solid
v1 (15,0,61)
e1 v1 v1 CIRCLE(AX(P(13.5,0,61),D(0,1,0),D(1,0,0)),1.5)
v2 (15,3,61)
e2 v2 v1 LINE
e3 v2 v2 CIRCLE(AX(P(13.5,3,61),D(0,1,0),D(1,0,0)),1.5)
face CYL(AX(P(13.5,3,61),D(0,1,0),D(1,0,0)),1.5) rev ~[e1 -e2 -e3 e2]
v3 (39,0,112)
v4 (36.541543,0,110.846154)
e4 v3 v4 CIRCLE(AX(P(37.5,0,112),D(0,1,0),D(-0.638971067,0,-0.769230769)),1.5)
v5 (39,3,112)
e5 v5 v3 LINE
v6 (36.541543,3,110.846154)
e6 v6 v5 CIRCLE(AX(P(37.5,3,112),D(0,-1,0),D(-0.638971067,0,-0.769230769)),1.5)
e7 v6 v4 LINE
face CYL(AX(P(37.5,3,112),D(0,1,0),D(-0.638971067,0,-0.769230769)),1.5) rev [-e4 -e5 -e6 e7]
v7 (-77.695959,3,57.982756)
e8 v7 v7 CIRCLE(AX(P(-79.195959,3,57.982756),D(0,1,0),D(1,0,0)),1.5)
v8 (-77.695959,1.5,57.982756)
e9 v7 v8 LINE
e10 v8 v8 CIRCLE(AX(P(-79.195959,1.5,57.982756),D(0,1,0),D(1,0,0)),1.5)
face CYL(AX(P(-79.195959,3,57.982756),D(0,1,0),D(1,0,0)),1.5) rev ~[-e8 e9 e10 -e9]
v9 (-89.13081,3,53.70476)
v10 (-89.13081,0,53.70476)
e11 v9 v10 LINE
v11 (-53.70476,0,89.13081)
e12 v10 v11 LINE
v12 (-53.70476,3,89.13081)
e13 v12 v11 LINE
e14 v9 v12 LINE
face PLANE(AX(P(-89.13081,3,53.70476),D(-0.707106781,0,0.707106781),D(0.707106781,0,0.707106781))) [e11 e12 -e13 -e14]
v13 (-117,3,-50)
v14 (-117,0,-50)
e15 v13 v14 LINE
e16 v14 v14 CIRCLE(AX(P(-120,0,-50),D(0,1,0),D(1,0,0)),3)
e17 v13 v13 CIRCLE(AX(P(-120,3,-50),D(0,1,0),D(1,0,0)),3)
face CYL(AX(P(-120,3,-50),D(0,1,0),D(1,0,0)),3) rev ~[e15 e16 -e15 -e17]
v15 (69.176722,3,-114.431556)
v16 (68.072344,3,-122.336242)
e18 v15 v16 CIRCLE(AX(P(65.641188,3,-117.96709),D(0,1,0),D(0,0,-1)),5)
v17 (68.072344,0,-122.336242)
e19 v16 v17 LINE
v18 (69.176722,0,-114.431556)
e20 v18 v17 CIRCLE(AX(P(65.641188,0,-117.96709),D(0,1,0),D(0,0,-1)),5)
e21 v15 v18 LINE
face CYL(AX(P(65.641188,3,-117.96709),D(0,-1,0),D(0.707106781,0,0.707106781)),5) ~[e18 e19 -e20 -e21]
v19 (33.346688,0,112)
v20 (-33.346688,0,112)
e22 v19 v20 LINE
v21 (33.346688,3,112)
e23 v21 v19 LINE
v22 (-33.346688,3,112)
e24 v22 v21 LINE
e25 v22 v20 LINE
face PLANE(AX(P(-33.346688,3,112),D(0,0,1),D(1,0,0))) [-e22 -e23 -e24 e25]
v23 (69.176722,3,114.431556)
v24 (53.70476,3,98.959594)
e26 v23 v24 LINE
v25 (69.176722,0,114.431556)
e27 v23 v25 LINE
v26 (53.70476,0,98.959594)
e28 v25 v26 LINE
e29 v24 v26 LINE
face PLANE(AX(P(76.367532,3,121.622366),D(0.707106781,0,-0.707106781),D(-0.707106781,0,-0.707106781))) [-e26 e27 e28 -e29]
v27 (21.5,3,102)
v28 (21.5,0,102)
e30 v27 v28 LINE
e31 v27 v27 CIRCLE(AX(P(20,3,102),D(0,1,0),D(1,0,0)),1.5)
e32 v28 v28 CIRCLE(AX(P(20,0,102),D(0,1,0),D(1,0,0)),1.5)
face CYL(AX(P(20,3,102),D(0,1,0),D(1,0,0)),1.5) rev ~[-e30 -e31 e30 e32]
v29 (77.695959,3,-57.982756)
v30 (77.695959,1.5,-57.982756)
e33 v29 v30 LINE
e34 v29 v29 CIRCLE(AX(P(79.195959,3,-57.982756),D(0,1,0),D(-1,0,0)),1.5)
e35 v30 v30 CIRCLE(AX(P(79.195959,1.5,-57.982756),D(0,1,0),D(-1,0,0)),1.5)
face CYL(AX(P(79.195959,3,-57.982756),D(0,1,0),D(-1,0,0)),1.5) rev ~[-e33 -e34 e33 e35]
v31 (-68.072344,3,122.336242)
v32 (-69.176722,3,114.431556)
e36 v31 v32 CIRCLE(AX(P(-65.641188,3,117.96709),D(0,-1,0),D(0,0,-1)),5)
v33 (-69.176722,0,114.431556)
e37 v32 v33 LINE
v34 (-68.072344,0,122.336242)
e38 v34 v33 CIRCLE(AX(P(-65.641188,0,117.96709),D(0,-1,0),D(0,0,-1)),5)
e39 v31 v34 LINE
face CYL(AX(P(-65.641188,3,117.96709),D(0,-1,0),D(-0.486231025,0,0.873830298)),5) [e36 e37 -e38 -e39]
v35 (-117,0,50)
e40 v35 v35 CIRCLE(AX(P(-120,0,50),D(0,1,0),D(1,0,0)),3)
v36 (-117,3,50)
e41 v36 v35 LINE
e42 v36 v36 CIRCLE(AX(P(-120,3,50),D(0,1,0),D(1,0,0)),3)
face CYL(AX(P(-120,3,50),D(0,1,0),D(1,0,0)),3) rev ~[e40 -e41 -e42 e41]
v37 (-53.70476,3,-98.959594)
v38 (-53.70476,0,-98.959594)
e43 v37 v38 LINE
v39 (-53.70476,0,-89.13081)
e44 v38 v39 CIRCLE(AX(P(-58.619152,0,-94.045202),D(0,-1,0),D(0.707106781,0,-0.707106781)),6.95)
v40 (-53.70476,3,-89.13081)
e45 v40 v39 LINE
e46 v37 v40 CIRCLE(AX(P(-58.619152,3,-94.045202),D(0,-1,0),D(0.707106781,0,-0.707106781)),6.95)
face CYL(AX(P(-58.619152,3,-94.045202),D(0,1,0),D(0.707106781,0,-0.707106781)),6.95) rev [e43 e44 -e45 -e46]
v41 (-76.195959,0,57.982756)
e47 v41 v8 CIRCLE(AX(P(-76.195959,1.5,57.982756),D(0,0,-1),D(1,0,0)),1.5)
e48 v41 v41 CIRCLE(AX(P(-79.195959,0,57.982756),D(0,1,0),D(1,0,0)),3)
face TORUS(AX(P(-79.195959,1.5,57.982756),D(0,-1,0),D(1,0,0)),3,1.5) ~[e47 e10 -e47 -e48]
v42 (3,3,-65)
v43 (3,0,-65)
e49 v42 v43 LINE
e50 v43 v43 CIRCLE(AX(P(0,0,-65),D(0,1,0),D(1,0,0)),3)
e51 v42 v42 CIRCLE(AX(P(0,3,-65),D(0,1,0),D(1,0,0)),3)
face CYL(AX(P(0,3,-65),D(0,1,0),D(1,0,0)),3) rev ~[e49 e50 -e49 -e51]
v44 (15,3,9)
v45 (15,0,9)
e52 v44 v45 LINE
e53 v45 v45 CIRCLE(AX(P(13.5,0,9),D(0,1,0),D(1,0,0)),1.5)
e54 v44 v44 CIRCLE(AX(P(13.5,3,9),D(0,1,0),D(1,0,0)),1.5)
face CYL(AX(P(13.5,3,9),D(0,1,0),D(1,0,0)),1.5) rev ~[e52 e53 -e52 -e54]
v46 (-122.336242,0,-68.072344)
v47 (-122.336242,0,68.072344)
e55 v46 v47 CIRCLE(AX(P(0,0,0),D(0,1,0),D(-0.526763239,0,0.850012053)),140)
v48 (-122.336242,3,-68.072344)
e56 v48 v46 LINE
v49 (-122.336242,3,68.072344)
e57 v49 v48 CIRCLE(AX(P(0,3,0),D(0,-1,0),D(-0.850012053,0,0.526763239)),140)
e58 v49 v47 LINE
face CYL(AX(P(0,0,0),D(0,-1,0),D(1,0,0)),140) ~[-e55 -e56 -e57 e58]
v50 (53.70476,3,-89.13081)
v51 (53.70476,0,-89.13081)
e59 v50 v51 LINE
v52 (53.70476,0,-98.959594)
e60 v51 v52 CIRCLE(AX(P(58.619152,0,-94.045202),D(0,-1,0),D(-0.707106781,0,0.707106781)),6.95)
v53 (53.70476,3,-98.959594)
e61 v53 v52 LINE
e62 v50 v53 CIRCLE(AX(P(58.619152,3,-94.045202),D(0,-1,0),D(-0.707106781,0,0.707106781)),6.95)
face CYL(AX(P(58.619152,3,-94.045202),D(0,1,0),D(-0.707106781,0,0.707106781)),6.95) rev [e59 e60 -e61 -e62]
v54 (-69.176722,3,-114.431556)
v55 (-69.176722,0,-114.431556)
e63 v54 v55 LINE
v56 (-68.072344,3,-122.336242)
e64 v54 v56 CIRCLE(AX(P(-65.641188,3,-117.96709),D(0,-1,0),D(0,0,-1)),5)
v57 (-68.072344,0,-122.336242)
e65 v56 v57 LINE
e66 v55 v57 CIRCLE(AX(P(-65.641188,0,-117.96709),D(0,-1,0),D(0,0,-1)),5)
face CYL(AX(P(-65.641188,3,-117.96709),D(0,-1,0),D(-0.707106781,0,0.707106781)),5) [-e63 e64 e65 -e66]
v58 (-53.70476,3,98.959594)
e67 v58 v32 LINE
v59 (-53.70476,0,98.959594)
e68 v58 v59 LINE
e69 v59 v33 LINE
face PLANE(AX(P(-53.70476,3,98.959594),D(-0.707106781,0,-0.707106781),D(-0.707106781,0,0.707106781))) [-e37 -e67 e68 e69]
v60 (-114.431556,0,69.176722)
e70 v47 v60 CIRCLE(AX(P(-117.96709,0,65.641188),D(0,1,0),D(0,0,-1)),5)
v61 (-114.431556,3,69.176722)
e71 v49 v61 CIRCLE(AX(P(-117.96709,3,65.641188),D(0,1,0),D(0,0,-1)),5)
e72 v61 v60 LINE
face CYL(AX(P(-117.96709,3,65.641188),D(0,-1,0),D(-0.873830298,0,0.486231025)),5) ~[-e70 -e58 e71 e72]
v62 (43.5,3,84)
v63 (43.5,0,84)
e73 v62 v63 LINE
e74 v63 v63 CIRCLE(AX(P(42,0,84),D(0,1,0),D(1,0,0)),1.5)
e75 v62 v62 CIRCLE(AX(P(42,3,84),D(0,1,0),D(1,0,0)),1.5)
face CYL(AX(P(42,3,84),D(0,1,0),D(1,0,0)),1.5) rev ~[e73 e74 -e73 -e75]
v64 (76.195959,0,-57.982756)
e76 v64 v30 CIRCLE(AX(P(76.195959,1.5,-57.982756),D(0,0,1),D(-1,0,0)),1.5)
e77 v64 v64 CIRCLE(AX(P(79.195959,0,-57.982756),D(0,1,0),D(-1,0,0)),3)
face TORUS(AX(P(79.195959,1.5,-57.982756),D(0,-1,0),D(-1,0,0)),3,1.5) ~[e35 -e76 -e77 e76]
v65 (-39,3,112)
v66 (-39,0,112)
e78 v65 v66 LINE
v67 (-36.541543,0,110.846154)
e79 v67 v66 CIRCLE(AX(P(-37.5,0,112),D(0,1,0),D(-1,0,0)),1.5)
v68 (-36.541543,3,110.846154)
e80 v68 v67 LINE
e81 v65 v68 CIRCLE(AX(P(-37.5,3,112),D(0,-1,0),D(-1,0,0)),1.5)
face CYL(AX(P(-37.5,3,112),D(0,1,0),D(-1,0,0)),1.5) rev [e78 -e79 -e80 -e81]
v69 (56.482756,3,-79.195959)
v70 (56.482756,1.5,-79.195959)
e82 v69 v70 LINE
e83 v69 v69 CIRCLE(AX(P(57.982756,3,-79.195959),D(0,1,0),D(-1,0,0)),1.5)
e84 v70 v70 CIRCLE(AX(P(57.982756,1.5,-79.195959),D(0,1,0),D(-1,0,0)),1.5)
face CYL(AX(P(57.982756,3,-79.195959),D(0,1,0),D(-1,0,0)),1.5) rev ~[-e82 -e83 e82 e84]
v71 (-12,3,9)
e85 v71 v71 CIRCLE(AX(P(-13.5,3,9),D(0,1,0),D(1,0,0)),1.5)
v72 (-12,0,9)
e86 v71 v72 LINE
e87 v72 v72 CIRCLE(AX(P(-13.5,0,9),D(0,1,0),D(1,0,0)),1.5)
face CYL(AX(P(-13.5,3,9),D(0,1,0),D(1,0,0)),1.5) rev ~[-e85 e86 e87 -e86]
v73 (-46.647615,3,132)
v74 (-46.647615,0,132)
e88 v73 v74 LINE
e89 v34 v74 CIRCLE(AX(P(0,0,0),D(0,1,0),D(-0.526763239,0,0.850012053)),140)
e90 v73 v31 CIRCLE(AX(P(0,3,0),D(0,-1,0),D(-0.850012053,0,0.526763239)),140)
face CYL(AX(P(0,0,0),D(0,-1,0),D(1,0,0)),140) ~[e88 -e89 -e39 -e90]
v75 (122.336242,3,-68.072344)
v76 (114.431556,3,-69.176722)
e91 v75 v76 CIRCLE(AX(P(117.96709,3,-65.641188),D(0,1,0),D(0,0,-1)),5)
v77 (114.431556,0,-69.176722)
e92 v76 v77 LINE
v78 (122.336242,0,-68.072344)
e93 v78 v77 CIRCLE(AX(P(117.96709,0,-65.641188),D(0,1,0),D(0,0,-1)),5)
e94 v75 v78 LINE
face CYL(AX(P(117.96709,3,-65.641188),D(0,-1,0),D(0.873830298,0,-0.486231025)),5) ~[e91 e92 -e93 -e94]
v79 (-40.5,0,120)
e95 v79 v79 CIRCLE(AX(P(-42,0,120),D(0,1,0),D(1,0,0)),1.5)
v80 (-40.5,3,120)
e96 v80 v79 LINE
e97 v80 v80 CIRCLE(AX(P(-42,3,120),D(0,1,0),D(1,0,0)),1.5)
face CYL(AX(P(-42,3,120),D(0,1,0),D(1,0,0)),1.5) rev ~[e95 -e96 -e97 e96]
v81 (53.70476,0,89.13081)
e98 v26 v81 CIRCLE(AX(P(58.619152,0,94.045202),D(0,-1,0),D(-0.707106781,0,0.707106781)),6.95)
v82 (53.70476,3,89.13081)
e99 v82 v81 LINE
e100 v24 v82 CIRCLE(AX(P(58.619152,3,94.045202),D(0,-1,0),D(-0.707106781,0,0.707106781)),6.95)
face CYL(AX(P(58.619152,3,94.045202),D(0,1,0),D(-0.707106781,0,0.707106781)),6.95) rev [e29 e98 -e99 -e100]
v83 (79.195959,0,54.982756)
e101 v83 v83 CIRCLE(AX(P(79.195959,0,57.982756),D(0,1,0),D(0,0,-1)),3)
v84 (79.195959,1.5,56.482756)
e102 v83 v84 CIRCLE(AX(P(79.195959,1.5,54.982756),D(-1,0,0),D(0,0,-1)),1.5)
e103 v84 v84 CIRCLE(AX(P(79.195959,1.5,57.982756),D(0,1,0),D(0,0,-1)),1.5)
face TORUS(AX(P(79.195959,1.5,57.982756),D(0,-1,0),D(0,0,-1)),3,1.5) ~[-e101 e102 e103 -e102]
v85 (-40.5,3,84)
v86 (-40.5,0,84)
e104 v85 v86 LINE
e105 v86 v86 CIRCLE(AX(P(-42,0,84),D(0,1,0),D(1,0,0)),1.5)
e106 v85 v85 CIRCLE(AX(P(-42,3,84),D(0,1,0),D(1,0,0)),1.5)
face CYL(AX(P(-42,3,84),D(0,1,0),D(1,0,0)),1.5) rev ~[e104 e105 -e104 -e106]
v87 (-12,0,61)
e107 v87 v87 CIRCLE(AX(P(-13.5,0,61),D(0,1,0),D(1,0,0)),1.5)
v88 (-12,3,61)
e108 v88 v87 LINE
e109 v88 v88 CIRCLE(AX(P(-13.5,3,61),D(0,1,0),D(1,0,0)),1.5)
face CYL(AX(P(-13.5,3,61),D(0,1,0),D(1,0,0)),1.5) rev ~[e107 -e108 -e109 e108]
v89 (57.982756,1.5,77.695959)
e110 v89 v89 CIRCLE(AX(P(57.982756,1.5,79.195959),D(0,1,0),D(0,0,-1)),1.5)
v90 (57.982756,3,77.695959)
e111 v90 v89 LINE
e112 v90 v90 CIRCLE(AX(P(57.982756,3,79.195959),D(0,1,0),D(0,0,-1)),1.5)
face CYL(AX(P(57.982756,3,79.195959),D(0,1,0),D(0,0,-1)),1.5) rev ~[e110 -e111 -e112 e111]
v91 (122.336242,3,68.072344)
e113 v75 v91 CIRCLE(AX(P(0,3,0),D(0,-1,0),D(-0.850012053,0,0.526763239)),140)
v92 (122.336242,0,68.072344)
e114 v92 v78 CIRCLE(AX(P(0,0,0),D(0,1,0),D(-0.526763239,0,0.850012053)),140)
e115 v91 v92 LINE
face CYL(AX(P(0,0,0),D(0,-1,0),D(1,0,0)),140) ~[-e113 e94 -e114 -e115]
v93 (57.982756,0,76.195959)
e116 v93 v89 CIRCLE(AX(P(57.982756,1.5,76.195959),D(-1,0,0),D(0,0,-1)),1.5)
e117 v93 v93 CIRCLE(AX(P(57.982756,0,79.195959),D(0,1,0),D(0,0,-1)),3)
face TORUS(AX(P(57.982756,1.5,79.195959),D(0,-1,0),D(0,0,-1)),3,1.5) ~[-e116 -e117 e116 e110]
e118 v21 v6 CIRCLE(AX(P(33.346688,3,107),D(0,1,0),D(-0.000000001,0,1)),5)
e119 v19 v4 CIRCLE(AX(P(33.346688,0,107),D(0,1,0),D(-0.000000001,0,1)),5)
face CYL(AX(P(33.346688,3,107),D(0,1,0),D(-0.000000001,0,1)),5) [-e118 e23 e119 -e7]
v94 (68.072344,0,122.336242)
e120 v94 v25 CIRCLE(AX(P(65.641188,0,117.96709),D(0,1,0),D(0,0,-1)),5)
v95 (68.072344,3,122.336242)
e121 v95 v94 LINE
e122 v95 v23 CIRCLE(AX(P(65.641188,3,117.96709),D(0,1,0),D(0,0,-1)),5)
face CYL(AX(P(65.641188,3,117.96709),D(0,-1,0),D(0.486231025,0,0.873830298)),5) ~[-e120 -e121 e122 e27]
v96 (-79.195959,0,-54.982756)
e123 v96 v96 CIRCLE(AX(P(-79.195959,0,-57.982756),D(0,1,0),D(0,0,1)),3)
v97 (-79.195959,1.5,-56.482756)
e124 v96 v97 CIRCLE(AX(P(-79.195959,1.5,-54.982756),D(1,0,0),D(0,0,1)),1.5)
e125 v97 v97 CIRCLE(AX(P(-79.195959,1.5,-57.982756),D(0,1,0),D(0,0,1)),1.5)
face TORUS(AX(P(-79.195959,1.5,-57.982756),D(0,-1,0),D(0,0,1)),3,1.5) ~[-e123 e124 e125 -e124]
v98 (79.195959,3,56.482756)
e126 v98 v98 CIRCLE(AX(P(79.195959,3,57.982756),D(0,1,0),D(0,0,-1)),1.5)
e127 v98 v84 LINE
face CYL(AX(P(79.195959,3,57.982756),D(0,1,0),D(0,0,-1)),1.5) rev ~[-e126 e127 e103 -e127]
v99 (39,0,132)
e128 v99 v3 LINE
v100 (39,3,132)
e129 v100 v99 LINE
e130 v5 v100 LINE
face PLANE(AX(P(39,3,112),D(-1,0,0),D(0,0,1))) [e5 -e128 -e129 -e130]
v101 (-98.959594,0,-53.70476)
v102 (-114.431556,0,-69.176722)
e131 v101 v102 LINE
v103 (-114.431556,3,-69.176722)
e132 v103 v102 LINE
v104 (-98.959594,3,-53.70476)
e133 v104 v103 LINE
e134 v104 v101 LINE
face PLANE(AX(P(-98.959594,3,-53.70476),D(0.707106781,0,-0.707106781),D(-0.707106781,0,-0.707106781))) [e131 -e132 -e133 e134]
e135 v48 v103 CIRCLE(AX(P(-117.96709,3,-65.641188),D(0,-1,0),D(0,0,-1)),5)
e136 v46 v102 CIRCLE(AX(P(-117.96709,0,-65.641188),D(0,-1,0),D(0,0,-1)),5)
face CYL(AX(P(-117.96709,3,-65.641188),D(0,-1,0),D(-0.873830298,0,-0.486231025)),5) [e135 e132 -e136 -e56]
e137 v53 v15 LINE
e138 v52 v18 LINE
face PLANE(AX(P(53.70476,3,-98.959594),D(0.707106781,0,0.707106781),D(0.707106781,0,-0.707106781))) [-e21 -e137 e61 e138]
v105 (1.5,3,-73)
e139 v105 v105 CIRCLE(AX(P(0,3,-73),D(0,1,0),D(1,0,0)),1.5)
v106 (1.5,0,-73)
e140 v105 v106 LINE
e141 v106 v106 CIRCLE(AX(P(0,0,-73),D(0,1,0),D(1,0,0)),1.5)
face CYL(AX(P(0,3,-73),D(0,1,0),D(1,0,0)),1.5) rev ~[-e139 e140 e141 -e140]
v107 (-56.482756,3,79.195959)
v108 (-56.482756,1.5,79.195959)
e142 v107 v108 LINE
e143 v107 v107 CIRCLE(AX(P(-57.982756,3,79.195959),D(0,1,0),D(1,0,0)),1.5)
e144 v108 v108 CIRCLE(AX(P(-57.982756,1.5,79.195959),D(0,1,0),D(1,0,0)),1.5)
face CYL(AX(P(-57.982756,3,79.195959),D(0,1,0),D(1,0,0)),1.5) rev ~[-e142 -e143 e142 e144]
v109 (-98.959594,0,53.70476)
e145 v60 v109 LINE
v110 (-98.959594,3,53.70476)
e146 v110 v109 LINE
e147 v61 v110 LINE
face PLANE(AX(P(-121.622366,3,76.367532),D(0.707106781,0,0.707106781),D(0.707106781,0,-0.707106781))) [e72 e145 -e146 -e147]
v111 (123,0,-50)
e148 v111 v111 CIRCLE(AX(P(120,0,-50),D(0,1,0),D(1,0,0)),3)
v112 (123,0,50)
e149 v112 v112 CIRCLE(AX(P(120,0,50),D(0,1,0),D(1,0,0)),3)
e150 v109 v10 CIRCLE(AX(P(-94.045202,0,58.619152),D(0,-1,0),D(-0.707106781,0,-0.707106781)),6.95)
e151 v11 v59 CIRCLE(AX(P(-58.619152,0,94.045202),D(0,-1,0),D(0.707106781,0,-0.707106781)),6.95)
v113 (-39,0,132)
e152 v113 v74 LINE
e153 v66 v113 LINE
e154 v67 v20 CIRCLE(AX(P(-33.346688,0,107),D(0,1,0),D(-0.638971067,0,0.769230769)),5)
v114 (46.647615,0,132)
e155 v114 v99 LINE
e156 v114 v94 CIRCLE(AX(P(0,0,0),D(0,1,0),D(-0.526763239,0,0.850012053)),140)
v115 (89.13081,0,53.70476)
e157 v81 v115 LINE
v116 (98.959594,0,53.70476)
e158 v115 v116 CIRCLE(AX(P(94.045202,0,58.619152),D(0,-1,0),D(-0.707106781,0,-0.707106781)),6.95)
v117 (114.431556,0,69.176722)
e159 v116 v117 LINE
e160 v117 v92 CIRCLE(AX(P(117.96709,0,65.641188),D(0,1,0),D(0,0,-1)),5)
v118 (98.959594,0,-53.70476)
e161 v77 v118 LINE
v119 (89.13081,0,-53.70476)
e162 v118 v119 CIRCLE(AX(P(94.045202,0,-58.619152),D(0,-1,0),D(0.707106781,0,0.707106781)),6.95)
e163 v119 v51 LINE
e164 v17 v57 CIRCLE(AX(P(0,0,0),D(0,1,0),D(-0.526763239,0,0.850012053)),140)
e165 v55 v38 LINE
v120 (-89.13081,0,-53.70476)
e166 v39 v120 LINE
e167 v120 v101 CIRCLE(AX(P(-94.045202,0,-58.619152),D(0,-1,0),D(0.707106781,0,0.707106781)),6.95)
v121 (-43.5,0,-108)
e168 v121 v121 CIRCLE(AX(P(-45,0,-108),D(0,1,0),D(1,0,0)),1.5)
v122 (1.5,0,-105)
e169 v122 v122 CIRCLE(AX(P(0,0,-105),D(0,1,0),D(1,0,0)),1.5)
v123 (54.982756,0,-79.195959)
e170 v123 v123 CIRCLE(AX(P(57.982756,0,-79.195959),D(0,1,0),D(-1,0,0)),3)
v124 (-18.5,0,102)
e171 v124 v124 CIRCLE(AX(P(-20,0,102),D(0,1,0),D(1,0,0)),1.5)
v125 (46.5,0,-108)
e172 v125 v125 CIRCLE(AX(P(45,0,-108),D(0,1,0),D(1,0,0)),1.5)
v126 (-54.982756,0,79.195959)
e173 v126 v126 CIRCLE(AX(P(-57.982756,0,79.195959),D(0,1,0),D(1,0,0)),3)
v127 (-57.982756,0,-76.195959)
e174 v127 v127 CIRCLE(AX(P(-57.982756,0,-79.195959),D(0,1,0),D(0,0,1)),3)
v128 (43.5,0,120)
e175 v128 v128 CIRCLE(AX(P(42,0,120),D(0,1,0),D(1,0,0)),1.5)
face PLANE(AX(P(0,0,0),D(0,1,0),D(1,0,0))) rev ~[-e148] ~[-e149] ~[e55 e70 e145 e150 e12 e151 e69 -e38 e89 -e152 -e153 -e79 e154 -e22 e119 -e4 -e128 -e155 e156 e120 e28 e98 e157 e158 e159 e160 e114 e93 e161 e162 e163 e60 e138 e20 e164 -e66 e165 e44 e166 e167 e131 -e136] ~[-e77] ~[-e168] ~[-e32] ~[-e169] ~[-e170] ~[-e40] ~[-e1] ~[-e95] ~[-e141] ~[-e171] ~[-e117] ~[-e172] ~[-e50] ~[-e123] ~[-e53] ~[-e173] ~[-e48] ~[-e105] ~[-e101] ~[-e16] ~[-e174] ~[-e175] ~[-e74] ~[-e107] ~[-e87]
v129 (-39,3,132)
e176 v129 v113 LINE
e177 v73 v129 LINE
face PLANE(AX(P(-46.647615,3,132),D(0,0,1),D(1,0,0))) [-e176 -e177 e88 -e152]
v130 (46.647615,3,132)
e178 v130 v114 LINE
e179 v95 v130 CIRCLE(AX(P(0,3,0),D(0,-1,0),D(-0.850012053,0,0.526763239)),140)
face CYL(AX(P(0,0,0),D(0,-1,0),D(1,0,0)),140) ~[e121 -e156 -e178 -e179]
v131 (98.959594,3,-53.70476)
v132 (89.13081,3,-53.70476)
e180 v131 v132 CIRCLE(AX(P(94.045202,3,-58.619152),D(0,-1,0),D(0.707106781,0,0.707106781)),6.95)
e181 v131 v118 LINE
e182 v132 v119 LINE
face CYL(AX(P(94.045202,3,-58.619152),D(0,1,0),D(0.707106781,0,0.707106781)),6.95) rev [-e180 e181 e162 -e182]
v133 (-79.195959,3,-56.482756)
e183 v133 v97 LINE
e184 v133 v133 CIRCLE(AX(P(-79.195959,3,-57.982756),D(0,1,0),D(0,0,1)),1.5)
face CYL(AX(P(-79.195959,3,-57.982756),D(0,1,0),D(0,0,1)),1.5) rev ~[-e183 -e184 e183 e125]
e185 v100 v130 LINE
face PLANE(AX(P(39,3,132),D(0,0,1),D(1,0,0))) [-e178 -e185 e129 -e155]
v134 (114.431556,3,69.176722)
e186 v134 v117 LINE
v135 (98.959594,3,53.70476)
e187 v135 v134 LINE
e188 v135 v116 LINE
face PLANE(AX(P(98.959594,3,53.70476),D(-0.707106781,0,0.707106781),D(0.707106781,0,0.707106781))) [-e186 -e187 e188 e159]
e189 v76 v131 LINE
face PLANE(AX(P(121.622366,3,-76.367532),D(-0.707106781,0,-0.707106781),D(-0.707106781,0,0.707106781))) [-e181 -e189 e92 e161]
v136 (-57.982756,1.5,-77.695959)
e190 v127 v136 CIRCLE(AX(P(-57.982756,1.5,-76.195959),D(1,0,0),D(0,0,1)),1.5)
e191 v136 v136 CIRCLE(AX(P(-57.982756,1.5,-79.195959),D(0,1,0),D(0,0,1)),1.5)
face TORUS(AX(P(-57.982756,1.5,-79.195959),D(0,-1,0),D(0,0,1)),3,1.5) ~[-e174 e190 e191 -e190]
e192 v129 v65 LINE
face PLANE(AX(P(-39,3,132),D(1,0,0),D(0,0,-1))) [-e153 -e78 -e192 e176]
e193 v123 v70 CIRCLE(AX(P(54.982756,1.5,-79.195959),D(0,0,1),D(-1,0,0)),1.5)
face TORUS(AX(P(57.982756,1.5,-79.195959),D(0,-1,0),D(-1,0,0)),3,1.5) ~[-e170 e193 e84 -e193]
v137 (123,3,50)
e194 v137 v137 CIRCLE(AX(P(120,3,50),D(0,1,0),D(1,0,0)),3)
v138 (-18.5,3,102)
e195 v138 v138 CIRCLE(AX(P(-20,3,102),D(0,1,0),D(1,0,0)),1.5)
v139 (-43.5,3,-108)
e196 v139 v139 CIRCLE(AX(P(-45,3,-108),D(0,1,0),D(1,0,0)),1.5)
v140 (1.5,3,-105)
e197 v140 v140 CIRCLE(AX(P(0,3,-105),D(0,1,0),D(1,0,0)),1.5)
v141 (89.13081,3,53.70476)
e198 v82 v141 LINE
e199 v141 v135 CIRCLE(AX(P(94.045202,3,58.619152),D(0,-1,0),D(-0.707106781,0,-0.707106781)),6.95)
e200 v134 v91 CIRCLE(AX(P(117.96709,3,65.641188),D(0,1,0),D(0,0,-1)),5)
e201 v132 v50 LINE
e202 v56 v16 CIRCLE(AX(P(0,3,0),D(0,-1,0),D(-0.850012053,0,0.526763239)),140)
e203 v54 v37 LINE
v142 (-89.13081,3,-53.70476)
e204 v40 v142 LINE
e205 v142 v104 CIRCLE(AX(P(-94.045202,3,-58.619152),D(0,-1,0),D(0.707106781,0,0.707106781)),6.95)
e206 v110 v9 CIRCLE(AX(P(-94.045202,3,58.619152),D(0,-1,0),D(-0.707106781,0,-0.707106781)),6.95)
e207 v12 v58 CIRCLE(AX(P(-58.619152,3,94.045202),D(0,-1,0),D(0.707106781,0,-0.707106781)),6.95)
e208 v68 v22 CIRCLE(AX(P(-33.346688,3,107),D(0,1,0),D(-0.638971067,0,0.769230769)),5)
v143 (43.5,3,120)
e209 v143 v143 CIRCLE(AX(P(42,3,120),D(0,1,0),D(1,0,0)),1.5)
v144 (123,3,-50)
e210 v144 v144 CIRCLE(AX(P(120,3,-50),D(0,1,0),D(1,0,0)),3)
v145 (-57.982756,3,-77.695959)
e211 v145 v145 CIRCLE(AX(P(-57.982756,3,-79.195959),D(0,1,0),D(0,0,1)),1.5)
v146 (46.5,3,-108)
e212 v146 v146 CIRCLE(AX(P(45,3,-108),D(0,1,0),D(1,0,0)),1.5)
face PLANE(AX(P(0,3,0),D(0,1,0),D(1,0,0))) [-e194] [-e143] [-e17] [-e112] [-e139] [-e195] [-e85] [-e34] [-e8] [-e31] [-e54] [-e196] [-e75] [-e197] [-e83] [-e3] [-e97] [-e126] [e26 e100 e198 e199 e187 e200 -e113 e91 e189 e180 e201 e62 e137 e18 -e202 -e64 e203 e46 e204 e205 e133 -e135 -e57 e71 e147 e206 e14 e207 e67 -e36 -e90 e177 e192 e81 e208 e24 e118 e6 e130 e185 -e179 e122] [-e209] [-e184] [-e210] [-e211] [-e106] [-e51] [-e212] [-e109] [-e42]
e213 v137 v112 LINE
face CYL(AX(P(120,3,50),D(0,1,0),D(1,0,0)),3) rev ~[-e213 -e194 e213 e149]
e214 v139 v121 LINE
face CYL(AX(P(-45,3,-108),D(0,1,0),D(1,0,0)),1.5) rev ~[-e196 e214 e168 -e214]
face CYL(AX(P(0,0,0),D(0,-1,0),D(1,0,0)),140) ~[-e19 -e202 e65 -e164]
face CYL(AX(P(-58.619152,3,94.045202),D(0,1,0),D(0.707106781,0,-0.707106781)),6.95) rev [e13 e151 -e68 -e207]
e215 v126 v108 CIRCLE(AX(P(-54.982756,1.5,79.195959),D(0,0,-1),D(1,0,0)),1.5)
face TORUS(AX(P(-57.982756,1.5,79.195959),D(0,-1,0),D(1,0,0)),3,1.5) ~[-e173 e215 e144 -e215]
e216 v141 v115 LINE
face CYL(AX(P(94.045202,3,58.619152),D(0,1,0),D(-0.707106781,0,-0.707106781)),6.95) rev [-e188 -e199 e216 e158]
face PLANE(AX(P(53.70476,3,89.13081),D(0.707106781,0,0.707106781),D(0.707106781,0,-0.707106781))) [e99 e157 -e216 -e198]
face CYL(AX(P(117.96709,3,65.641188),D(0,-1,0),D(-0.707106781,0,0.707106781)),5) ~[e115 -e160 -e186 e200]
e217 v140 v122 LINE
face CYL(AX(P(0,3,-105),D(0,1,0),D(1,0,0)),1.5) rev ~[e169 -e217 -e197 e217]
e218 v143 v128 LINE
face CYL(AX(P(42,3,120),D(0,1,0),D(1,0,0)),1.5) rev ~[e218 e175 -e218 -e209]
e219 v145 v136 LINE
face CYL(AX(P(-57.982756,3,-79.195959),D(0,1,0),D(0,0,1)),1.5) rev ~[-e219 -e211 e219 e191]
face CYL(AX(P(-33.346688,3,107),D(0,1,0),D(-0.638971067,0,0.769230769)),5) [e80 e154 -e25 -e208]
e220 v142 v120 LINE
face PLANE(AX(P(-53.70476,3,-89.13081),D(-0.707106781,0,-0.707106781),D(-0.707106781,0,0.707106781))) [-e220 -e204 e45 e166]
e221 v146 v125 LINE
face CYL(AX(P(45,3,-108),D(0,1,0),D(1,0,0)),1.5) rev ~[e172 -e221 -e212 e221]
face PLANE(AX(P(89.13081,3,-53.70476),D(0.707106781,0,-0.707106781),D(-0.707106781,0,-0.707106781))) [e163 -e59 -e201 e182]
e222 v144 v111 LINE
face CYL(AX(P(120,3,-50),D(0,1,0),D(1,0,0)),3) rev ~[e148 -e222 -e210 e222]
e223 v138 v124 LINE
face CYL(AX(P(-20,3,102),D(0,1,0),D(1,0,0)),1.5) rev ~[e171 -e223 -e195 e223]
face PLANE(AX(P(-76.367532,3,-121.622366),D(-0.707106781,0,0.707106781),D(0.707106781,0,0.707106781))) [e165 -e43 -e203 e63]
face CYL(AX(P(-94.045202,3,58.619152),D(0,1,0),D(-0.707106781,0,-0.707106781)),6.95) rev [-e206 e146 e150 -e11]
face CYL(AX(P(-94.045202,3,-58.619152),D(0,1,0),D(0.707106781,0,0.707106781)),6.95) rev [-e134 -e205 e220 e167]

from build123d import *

# Parameters (mm, degrees)
SKETCH1_R                = 140
BOSS_EXTRUDE1_DEPTH      = 3
CUT_EXTRUDE4_DEPTH       = 3
SKETCH9_R                = 1.5
CUT_EXTRUDE6_DEPTH       = 3
FILLET1_R                = 5
CIRPATTERN1_COUNT        = 4
FILLET1_OF_CIRPATTERN1_R = 5
CUT_EXTRUDE1_REACH       = 5
FILLET3_R                = 1.5
CUT_EXTRUDE7_REACH       = 5
SKETCH10_R               = 1.5
CUT_EXTRUDE8_REACH       = 5
SKETCH11_R               = 1.5
CUT_EXTRUDE9_REACH       = 5
SKETCH13_R               = 1.5
CUT_EXTRUDE12_REACH      = 5
SKETCH16_R               = 1.5
SKETCH16_R_2             = 3
CUT_EXTRUDE13_REACH      = 5
SKETCH17_R               = 3


with BuildPart() as part:
    # Sketch1 → Boss-Extrude1 (new body)
    with BuildSketch(Plane(origin=(0, 0, 0), x_dir=(1, 0, 0), z_dir=(0, 1, 0))):
        Circle(SKETCH1_R)
    extrude(amount=BOSS_EXTRUDE1_DEPTH)

    # Sketch7 → Cut-Extrude4 (cut)
    with BuildSketch(Plane(origin=(0, 3, 0), x_dir=(1, 0, 0), z_dir=(0, 1, 0))):
        with BuildLine():
            Line((-89.130809769, -53.704760031), (-53.704760031, -89.130809769))
            ThreePointArc((-53.704760031, -89.130809769), (-51.66915216, -94.045201898), (-53.704760031, -98.959594027))
            Line((-53.704760031, -98.959594027), (-76.367532368, -121.622366364))
            Line((-76.367532368, -121.622366364), (-121.622366364, -76.367532368))
            Line((-121.622366364, -76.367532368), (-98.959594027, -53.704760031))
            ThreePointArc((-98.959594027, -53.704760031), (-94.045201898, -51.66915216), (-89.130809769, -53.704760031))
        make_face()
    cut_extrude4 = extrude(amount=-CUT_EXTRUDE4_DEPTH, mode=Mode.SUBTRACT)

    # Sketch9 → Cut-Extrude6 (cut)
    with BuildSketch(Plane(origin=(0, 3, 0), x_dir=(1, 0, 0), z_dir=(0, 1, 0))):
        with Locations((-79.195959493, -57.982756057)):
            Circle(SKETCH9_R)
        with Locations((-57.982756057, -79.195959493)):
            Circle(SKETCH9_R)
    cut_extrude6 = extrude(amount=-CUT_EXTRUDE6_DEPTH, mode=Mode.SUBTRACT)

    # Fillet1
    fillet1_edges = [part.edges().sort_by_distance(p)[0] for p in [
        (-119.001687423, 1.5, 73.746853427),
        (-73.746853427, 1.5, 119.001687423),
    ]]
    fillet(fillet1_edges, radius=FILLET1_R)

    # CirPattern1: Cut-Extrude4, Cut-Extrude6 ×4 about axis
    cirpattern1_axis = Axis((0, 0, 0), (0, 1, 0))
    for i in range(1, CIRPATTERN1_COUNT):
        add(cut_extrude4.rotate(cirpattern1_axis, i * 360 / CIRPATTERN1_COUNT), mode=Mode.SUBTRACT)
        add(cut_extrude6.rotate(cirpattern1_axis, i * 360 / CIRPATTERN1_COUNT), mode=Mode.SUBTRACT)

    # Fillet1 of CirPattern1
    fillet1_of_cirpattern1_edges = [part.edges().sort_by_distance(p)[0] for p in [
        (73.746853427, 1.5, 119.001687423),
        (119.001687423, 1.5, 73.746853427),
        (119.001687423, 1.5, -73.746853427),
        (73.746853427, 1.5, -119.001687423),
        (-73.746853427, 1.5, -119.001687423),
        (-119.001687423, 1.5, -73.746853427),
    ]]
    fillet(fillet1_of_cirpattern1_edges, radius=FILLET1_OF_CIRPATTERN1_R)

    # Sketch2 → Cut-Extrude1 (cut, up to next)
    with BuildSketch(Plane(origin=(0, 3, 0), x_dir=(1, 0, 0), z_dir=(0, 1, 0)), mode=Mode.PRIVATE) as cut_extrude1_sk1:
        with BuildLine():
            Line((-46.647615159, -132), (-39, -132))
            Line((-39, -132), (-39, -112))
            ThreePointArc((-39, -112), (-38.137304912, -110.642118396), (-36.5415434, -110.846153846))
            ThreePointArc((-36.5415434, -110.846153846), (-35.04510362, -111.702699716), (-33.346688069, -112))
            Line((-33.346688069, -112), (33.346688069, -112))
            ThreePointArc((33.346688069, -112), (35.04510362, -111.702699716), (36.5415434, -110.846153846))
            ThreePointArc((36.5415434, -110.846153846), (38.137304912, -110.642118396), (39, -112))
            Line((39, -112), (39, -132))
            Line((39, -132), (46.647615159, -132))
            Line((46.647615159, -132), (46.647615159, -140))
            Line((46.647615159, -140), (-46.647615159, -140))
            Line((-46.647615159, -140), (-46.647615159, -132))
        make_face()
    cut_extrude1_tool1 = extrude(cut_extrude1_sk1.sketch, amount=-CUT_EXTRUDE1_REACH, mode=Mode.PRIVATE) & part.part
    add(cut_extrude1_tool1.solids().sort_by_distance((0, 3, 126.474871))[0], mode=Mode.SUBTRACT)

    # Fillet3
    fillet3_edges = [part.edges().sort_by_distance(p)[0] for p in [
        (57.982756057, 0, 80.695959493),
        (79.195959493, 0, 59.482756057),
        (80.695959493, 0, -57.982756057),
        (59.482756057, 0, -79.195959493),
        (-57.982756057, 0, -80.695959493),
        (-79.195959493, 0, -59.482756057),
        (-80.695959493, 0, 57.982756057),
        (-59.482756057, 0, 79.195959493),
    ]]
    fillet(fillet3_edges, radius=FILLET3_R)

    # Sketch10 → Cut-Extrude7 (cut, up to next)
    with BuildSketch(Plane(origin=(0, 3, 0), x_dir=(1, 0, 0), z_dir=(0, 1, 0)), mode=Mode.PRIVATE) as cut_extrude7_sk1:
        with Locations((-13.5, -61)):
            Circle(SKETCH10_R)
    cut_extrude7_tool1 = extrude(cut_extrude7_sk1.sketch, amount=-CUT_EXTRUDE7_REACH, mode=Mode.PRIVATE) & part.part
    add(cut_extrude7_tool1.solids().sort_by_distance((-13.5, 3, 61))[0], mode=Mode.SUBTRACT)
    # Sketch10 → Cut-Extrude7 (cut, up to next)
    with BuildSketch(Plane(origin=(0, 3, 0), x_dir=(1, 0, 0), z_dir=(0, 1, 0)), mode=Mode.PRIVATE) as cut_extrude7_sk2:
        with Locations((13.5, -61)):
            Circle(SKETCH10_R)
    cut_extrude7_tool2 = extrude(cut_extrude7_sk2.sketch, amount=-CUT_EXTRUDE7_REACH, mode=Mode.PRIVATE) & part.part
    add(cut_extrude7_tool2.solids().sort_by_distance((13.5, 3, 61))[0], mode=Mode.SUBTRACT)
    # Sketch10 → Cut-Extrude7 (cut, up to next)
    with BuildSketch(Plane(origin=(0, 3, 0), x_dir=(1, 0, 0), z_dir=(0, 1, 0)), mode=Mode.PRIVATE) as cut_extrude7_sk3:
        with Locations((-13.5, -9)):
            Circle(SKETCH10_R)
    cut_extrude7_tool3 = extrude(cut_extrude7_sk3.sketch, amount=-CUT_EXTRUDE7_REACH, mode=Mode.PRIVATE) & part.part
    add(cut_extrude7_tool3.solids().sort_by_distance((-13.5, 3, 9))[0], mode=Mode.SUBTRACT)
    # Sketch10 → Cut-Extrude7 (cut, up to next)
    with BuildSketch(Plane(origin=(0, 3, 0), x_dir=(1, 0, 0), z_dir=(0, 1, 0)), mode=Mode.PRIVATE) as cut_extrude7_sk4:
        with Locations((13.5, -9)):
            Circle(SKETCH10_R)
    cut_extrude7_tool4 = extrude(cut_extrude7_sk4.sketch, amount=-CUT_EXTRUDE7_REACH, mode=Mode.PRIVATE) & part.part
    add(cut_extrude7_tool4.solids().sort_by_distance((13.5, 3, 9))[0], mode=Mode.SUBTRACT)

    # Sketch11 → Cut-Extrude8 (cut, up to next)
    with BuildSketch(Plane(origin=(0, 3, 0), x_dir=(1, 0, 0), z_dir=(0, 1, 0)), mode=Mode.PRIVATE) as cut_extrude8_sk1:
        with Locations((-20, -102)):
            Circle(SKETCH11_R)
    cut_extrude8_tool1 = extrude(cut_extrude8_sk1.sketch, amount=-CUT_EXTRUDE8_REACH, mode=Mode.PRIVATE) & part.part
    add(cut_extrude8_tool1.solids().sort_by_distance((-20, 3, 102))[0], mode=Mode.SUBTRACT)
    # Sketch11 → Cut-Extrude8 (cut, up to next)
    with BuildSketch(Plane(origin=(0, 3, 0), x_dir=(1, 0, 0), z_dir=(0, 1, 0)), mode=Mode.PRIVATE) as cut_extrude8_sk2:
        with Locations((20, -102)):
            Circle(SKETCH11_R)
    cut_extrude8_tool2 = extrude(cut_extrude8_sk2.sketch, amount=-CUT_EXTRUDE8_REACH, mode=Mode.PRIVATE) & part.part
    add(cut_extrude8_tool2.solids().sort_by_distance((20, 3, 102))[0], mode=Mode.SUBTRACT)

    # Sketch13 → Cut-Extrude9 (cut, up to next)
    with BuildSketch(Plane(origin=(0, 3, 0), x_dir=(1, 0, 0), z_dir=(0, 1, 0)), mode=Mode.PRIVATE) as cut_extrude9_sk1:
        with Locations((-42, -84)):
            Circle(SKETCH13_R)
    cut_extrude9_tool1 = extrude(cut_extrude9_sk1.sketch, amount=-CUT_EXTRUDE9_REACH, mode=Mode.PRIVATE) & part.part
    add(cut_extrude9_tool1.solids().sort_by_distance((-42, 3, 84))[0], mode=Mode.SUBTRACT)
    # Sketch13 → Cut-Extrude9 (cut, up to next)
    with BuildSketch(Plane(origin=(0, 3, 0), x_dir=(1, 0, 0), z_dir=(0, 1, 0)), mode=Mode.PRIVATE) as cut_extrude9_sk2:
        with Locations((-42, -120)):
            Circle(SKETCH13_R)
    cut_extrude9_tool2 = extrude(cut_extrude9_sk2.sketch, amount=-CUT_EXTRUDE9_REACH, mode=Mode.PRIVATE) & part.part
    add(cut_extrude9_tool2.solids().sort_by_distance((-42, 3, 120))[0], mode=Mode.SUBTRACT)
    # Sketch13 → Cut-Extrude9 (cut, up to next)
    with BuildSketch(Plane(origin=(0, 3, 0), x_dir=(1, 0, 0), z_dir=(0, 1, 0)), mode=Mode.PRIVATE) as cut_extrude9_sk3:
        with Locations((42, -120)):
            Circle(SKETCH13_R)
    cut_extrude9_tool3 = extrude(cut_extrude9_sk3.sketch, amount=-CUT_EXTRUDE9_REACH, mode=Mode.PRIVATE) & part.part
    add(cut_extrude9_tool3.solids().sort_by_distance((42, 3, 120))[0], mode=Mode.SUBTRACT)
    # Sketch13 → Cut-Extrude9 (cut, up to next)
    with BuildSketch(Plane(origin=(0, 3, 0), x_dir=(1, 0, 0), z_dir=(0, 1, 0)), mode=Mode.PRIVATE) as cut_extrude9_sk4:
        with Locations((42, -84)):
            Circle(SKETCH13_R)
    cut_extrude9_tool4 = extrude(cut_extrude9_sk4.sketch, amount=-CUT_EXTRUDE9_REACH, mode=Mode.PRIVATE) & part.part
    add(cut_extrude9_tool4.solids().sort_by_distance((42, 3, 84))[0], mode=Mode.SUBTRACT)

    # Sketch16 → Cut-Extrude12 (cut, up to next)
    with BuildSketch(Plane(origin=(0, 3, 0), x_dir=(1, 0, 0), z_dir=(0, 1, 0)), mode=Mode.PRIVATE) as cut_extrude12_sk1:
        with Locations((0, 73)):
            Circle(SKETCH16_R)
    cut_extrude12_tool1 = extrude(cut_extrude12_sk1.sketch, amount=-CUT_EXTRUDE12_REACH, mode=Mode.PRIVATE) & part.part
    add(cut_extrude12_tool1.solids().sort_by_distance((0, 3, -73))[0], mode=Mode.SUBTRACT)
    # Sketch16 → Cut-Extrude12 (cut, up to next)
    with BuildSketch(Plane(origin=(0, 3, 0), x_dir=(1, 0, 0), z_dir=(0, 1, 0)), mode=Mode.PRIVATE) as cut_extrude12_sk2:
        with Locations((-45, 108)):
            Circle(SKETCH16_R)
    cut_extrude12_tool2 = extrude(cut_extrude12_sk2.sketch, amount=-CUT_EXTRUDE12_REACH, mode=Mode.PRIVATE) & part.part
    add(cut_extrude12_tool2.solids().sort_by_distance((-45, 3, -108))[0], mode=Mode.SUBTRACT)
    # Sketch16 → Cut-Extrude12 (cut, up to next)
    with BuildSketch(Plane(origin=(0, 3, 0), x_dir=(1, 0, 0), z_dir=(0, 1, 0)), mode=Mode.PRIVATE) as cut_extrude12_sk3:
        with Locations((45, 108)):
            Circle(SKETCH16_R)
    cut_extrude12_tool3 = extrude(cut_extrude12_sk3.sketch, amount=-CUT_EXTRUDE12_REACH, mode=Mode.PRIVATE) & part.part
    add(cut_extrude12_tool3.solids().sort_by_distance((45, 3, -108))[0], mode=Mode.SUBTRACT)
    # Sketch16 → Cut-Extrude12 (cut, up to next)
    with BuildSketch(Plane(origin=(0, 3, 0), x_dir=(1, 0, 0), z_dir=(0, 1, 0)), mode=Mode.PRIVATE) as cut_extrude12_sk4:
        with Locations((0, 105)):
            Circle(SKETCH16_R)
    cut_extrude12_tool4 = extrude(cut_extrude12_sk4.sketch, amount=-CUT_EXTRUDE12_REACH, mode=Mode.PRIVATE) & part.part
    add(cut_extrude12_tool4.solids().sort_by_distance((0, 3, -105))[0], mode=Mode.SUBTRACT)
    # Sketch16 → Cut-Extrude12 (cut, up to next)
    with BuildSketch(Plane(origin=(0, 3, 0), x_dir=(1, 0, 0), z_dir=(0, 1, 0)), mode=Mode.PRIVATE) as cut_extrude12_sk5:
        with Locations((0, 65)):
            Circle(SKETCH16_R_2)
    cut_extrude12_tool5 = extrude(cut_extrude12_sk5.sketch, amount=-CUT_EXTRUDE12_REACH, mode=Mode.PRIVATE) & part.part
    add(cut_extrude12_tool5.solids().sort_by_distance((0, 3, -65))[0], mode=Mode.SUBTRACT)

    # Sketch17 → Cut-Extrude13 (cut, up to next)
    with BuildSketch(Plane(origin=(0, 3, 0), x_dir=(1, 0, 0), z_dir=(0, 1, 0)), mode=Mode.PRIVATE) as cut_extrude13_sk1:
        with Locations((-120, 50)):
            Circle(SKETCH17_R)
    cut_extrude13_tool1 = extrude(cut_extrude13_sk1.sketch, amount=-CUT_EXTRUDE13_REACH, mode=Mode.PRIVATE) & part.part
    add(cut_extrude13_tool1.solids().sort_by_distance((-120, 3, -50))[0], mode=Mode.SUBTRACT)
    # Sketch17 → Cut-Extrude13 (cut, up to next)
    with BuildSketch(Plane(origin=(0, 3, 0), x_dir=(1, 0, 0), z_dir=(0, 1, 0)), mode=Mode.PRIVATE) as cut_extrude13_sk2:
        with Locations((-120, -50)):
            Circle(SKETCH17_R)
    cut_extrude13_tool2 = extrude(cut_extrude13_sk2.sketch, amount=-CUT_EXTRUDE13_REACH, mode=Mode.PRIVATE) & part.part
    add(cut_extrude13_tool2.solids().sort_by_distance((-120, 3, 50))[0], mode=Mode.SUBTRACT)
    # Sketch17 → Cut-Extrude13 (cut, up to next)
    with BuildSketch(Plane(origin=(0, 3, 0), x_dir=(1, 0, 0), z_dir=(0, 1, 0)), mode=Mode.PRIVATE) as cut_extrude13_sk3:
        with Locations((120, 50)):
            Circle(SKETCH17_R)
    cut_extrude13_tool3 = extrude(cut_extrude13_sk3.sketch, amount=-CUT_EXTRUDE13_REACH, mode=Mode.PRIVATE) & part.part
    add(cut_extrude13_tool3.solids().sort_by_distance((120, 3, -50))[0], mode=Mode.SUBTRACT)
    # Sketch17 → Cut-Extrude13 (cut, up to next)
    with BuildSketch(Plane(origin=(0, 3, 0), x_dir=(1, 0, 0), z_dir=(0, 1, 0)), mode=Mode.PRIVATE) as cut_extrude13_sk4:
        with Locations((120, -50)):
            Circle(SKETCH17_R)
    cut_extrude13_tool4 = extrude(cut_extrude13_sk4.sketch, amount=-CUT_EXTRUDE13_REACH, mode=Mode.PRIVATE) & part.part
    add(cut_extrude13_tool4.solids().sort_by_distance((120, 3, 50))[0], mode=Mode.SUBTRACT)


solid = part.part
